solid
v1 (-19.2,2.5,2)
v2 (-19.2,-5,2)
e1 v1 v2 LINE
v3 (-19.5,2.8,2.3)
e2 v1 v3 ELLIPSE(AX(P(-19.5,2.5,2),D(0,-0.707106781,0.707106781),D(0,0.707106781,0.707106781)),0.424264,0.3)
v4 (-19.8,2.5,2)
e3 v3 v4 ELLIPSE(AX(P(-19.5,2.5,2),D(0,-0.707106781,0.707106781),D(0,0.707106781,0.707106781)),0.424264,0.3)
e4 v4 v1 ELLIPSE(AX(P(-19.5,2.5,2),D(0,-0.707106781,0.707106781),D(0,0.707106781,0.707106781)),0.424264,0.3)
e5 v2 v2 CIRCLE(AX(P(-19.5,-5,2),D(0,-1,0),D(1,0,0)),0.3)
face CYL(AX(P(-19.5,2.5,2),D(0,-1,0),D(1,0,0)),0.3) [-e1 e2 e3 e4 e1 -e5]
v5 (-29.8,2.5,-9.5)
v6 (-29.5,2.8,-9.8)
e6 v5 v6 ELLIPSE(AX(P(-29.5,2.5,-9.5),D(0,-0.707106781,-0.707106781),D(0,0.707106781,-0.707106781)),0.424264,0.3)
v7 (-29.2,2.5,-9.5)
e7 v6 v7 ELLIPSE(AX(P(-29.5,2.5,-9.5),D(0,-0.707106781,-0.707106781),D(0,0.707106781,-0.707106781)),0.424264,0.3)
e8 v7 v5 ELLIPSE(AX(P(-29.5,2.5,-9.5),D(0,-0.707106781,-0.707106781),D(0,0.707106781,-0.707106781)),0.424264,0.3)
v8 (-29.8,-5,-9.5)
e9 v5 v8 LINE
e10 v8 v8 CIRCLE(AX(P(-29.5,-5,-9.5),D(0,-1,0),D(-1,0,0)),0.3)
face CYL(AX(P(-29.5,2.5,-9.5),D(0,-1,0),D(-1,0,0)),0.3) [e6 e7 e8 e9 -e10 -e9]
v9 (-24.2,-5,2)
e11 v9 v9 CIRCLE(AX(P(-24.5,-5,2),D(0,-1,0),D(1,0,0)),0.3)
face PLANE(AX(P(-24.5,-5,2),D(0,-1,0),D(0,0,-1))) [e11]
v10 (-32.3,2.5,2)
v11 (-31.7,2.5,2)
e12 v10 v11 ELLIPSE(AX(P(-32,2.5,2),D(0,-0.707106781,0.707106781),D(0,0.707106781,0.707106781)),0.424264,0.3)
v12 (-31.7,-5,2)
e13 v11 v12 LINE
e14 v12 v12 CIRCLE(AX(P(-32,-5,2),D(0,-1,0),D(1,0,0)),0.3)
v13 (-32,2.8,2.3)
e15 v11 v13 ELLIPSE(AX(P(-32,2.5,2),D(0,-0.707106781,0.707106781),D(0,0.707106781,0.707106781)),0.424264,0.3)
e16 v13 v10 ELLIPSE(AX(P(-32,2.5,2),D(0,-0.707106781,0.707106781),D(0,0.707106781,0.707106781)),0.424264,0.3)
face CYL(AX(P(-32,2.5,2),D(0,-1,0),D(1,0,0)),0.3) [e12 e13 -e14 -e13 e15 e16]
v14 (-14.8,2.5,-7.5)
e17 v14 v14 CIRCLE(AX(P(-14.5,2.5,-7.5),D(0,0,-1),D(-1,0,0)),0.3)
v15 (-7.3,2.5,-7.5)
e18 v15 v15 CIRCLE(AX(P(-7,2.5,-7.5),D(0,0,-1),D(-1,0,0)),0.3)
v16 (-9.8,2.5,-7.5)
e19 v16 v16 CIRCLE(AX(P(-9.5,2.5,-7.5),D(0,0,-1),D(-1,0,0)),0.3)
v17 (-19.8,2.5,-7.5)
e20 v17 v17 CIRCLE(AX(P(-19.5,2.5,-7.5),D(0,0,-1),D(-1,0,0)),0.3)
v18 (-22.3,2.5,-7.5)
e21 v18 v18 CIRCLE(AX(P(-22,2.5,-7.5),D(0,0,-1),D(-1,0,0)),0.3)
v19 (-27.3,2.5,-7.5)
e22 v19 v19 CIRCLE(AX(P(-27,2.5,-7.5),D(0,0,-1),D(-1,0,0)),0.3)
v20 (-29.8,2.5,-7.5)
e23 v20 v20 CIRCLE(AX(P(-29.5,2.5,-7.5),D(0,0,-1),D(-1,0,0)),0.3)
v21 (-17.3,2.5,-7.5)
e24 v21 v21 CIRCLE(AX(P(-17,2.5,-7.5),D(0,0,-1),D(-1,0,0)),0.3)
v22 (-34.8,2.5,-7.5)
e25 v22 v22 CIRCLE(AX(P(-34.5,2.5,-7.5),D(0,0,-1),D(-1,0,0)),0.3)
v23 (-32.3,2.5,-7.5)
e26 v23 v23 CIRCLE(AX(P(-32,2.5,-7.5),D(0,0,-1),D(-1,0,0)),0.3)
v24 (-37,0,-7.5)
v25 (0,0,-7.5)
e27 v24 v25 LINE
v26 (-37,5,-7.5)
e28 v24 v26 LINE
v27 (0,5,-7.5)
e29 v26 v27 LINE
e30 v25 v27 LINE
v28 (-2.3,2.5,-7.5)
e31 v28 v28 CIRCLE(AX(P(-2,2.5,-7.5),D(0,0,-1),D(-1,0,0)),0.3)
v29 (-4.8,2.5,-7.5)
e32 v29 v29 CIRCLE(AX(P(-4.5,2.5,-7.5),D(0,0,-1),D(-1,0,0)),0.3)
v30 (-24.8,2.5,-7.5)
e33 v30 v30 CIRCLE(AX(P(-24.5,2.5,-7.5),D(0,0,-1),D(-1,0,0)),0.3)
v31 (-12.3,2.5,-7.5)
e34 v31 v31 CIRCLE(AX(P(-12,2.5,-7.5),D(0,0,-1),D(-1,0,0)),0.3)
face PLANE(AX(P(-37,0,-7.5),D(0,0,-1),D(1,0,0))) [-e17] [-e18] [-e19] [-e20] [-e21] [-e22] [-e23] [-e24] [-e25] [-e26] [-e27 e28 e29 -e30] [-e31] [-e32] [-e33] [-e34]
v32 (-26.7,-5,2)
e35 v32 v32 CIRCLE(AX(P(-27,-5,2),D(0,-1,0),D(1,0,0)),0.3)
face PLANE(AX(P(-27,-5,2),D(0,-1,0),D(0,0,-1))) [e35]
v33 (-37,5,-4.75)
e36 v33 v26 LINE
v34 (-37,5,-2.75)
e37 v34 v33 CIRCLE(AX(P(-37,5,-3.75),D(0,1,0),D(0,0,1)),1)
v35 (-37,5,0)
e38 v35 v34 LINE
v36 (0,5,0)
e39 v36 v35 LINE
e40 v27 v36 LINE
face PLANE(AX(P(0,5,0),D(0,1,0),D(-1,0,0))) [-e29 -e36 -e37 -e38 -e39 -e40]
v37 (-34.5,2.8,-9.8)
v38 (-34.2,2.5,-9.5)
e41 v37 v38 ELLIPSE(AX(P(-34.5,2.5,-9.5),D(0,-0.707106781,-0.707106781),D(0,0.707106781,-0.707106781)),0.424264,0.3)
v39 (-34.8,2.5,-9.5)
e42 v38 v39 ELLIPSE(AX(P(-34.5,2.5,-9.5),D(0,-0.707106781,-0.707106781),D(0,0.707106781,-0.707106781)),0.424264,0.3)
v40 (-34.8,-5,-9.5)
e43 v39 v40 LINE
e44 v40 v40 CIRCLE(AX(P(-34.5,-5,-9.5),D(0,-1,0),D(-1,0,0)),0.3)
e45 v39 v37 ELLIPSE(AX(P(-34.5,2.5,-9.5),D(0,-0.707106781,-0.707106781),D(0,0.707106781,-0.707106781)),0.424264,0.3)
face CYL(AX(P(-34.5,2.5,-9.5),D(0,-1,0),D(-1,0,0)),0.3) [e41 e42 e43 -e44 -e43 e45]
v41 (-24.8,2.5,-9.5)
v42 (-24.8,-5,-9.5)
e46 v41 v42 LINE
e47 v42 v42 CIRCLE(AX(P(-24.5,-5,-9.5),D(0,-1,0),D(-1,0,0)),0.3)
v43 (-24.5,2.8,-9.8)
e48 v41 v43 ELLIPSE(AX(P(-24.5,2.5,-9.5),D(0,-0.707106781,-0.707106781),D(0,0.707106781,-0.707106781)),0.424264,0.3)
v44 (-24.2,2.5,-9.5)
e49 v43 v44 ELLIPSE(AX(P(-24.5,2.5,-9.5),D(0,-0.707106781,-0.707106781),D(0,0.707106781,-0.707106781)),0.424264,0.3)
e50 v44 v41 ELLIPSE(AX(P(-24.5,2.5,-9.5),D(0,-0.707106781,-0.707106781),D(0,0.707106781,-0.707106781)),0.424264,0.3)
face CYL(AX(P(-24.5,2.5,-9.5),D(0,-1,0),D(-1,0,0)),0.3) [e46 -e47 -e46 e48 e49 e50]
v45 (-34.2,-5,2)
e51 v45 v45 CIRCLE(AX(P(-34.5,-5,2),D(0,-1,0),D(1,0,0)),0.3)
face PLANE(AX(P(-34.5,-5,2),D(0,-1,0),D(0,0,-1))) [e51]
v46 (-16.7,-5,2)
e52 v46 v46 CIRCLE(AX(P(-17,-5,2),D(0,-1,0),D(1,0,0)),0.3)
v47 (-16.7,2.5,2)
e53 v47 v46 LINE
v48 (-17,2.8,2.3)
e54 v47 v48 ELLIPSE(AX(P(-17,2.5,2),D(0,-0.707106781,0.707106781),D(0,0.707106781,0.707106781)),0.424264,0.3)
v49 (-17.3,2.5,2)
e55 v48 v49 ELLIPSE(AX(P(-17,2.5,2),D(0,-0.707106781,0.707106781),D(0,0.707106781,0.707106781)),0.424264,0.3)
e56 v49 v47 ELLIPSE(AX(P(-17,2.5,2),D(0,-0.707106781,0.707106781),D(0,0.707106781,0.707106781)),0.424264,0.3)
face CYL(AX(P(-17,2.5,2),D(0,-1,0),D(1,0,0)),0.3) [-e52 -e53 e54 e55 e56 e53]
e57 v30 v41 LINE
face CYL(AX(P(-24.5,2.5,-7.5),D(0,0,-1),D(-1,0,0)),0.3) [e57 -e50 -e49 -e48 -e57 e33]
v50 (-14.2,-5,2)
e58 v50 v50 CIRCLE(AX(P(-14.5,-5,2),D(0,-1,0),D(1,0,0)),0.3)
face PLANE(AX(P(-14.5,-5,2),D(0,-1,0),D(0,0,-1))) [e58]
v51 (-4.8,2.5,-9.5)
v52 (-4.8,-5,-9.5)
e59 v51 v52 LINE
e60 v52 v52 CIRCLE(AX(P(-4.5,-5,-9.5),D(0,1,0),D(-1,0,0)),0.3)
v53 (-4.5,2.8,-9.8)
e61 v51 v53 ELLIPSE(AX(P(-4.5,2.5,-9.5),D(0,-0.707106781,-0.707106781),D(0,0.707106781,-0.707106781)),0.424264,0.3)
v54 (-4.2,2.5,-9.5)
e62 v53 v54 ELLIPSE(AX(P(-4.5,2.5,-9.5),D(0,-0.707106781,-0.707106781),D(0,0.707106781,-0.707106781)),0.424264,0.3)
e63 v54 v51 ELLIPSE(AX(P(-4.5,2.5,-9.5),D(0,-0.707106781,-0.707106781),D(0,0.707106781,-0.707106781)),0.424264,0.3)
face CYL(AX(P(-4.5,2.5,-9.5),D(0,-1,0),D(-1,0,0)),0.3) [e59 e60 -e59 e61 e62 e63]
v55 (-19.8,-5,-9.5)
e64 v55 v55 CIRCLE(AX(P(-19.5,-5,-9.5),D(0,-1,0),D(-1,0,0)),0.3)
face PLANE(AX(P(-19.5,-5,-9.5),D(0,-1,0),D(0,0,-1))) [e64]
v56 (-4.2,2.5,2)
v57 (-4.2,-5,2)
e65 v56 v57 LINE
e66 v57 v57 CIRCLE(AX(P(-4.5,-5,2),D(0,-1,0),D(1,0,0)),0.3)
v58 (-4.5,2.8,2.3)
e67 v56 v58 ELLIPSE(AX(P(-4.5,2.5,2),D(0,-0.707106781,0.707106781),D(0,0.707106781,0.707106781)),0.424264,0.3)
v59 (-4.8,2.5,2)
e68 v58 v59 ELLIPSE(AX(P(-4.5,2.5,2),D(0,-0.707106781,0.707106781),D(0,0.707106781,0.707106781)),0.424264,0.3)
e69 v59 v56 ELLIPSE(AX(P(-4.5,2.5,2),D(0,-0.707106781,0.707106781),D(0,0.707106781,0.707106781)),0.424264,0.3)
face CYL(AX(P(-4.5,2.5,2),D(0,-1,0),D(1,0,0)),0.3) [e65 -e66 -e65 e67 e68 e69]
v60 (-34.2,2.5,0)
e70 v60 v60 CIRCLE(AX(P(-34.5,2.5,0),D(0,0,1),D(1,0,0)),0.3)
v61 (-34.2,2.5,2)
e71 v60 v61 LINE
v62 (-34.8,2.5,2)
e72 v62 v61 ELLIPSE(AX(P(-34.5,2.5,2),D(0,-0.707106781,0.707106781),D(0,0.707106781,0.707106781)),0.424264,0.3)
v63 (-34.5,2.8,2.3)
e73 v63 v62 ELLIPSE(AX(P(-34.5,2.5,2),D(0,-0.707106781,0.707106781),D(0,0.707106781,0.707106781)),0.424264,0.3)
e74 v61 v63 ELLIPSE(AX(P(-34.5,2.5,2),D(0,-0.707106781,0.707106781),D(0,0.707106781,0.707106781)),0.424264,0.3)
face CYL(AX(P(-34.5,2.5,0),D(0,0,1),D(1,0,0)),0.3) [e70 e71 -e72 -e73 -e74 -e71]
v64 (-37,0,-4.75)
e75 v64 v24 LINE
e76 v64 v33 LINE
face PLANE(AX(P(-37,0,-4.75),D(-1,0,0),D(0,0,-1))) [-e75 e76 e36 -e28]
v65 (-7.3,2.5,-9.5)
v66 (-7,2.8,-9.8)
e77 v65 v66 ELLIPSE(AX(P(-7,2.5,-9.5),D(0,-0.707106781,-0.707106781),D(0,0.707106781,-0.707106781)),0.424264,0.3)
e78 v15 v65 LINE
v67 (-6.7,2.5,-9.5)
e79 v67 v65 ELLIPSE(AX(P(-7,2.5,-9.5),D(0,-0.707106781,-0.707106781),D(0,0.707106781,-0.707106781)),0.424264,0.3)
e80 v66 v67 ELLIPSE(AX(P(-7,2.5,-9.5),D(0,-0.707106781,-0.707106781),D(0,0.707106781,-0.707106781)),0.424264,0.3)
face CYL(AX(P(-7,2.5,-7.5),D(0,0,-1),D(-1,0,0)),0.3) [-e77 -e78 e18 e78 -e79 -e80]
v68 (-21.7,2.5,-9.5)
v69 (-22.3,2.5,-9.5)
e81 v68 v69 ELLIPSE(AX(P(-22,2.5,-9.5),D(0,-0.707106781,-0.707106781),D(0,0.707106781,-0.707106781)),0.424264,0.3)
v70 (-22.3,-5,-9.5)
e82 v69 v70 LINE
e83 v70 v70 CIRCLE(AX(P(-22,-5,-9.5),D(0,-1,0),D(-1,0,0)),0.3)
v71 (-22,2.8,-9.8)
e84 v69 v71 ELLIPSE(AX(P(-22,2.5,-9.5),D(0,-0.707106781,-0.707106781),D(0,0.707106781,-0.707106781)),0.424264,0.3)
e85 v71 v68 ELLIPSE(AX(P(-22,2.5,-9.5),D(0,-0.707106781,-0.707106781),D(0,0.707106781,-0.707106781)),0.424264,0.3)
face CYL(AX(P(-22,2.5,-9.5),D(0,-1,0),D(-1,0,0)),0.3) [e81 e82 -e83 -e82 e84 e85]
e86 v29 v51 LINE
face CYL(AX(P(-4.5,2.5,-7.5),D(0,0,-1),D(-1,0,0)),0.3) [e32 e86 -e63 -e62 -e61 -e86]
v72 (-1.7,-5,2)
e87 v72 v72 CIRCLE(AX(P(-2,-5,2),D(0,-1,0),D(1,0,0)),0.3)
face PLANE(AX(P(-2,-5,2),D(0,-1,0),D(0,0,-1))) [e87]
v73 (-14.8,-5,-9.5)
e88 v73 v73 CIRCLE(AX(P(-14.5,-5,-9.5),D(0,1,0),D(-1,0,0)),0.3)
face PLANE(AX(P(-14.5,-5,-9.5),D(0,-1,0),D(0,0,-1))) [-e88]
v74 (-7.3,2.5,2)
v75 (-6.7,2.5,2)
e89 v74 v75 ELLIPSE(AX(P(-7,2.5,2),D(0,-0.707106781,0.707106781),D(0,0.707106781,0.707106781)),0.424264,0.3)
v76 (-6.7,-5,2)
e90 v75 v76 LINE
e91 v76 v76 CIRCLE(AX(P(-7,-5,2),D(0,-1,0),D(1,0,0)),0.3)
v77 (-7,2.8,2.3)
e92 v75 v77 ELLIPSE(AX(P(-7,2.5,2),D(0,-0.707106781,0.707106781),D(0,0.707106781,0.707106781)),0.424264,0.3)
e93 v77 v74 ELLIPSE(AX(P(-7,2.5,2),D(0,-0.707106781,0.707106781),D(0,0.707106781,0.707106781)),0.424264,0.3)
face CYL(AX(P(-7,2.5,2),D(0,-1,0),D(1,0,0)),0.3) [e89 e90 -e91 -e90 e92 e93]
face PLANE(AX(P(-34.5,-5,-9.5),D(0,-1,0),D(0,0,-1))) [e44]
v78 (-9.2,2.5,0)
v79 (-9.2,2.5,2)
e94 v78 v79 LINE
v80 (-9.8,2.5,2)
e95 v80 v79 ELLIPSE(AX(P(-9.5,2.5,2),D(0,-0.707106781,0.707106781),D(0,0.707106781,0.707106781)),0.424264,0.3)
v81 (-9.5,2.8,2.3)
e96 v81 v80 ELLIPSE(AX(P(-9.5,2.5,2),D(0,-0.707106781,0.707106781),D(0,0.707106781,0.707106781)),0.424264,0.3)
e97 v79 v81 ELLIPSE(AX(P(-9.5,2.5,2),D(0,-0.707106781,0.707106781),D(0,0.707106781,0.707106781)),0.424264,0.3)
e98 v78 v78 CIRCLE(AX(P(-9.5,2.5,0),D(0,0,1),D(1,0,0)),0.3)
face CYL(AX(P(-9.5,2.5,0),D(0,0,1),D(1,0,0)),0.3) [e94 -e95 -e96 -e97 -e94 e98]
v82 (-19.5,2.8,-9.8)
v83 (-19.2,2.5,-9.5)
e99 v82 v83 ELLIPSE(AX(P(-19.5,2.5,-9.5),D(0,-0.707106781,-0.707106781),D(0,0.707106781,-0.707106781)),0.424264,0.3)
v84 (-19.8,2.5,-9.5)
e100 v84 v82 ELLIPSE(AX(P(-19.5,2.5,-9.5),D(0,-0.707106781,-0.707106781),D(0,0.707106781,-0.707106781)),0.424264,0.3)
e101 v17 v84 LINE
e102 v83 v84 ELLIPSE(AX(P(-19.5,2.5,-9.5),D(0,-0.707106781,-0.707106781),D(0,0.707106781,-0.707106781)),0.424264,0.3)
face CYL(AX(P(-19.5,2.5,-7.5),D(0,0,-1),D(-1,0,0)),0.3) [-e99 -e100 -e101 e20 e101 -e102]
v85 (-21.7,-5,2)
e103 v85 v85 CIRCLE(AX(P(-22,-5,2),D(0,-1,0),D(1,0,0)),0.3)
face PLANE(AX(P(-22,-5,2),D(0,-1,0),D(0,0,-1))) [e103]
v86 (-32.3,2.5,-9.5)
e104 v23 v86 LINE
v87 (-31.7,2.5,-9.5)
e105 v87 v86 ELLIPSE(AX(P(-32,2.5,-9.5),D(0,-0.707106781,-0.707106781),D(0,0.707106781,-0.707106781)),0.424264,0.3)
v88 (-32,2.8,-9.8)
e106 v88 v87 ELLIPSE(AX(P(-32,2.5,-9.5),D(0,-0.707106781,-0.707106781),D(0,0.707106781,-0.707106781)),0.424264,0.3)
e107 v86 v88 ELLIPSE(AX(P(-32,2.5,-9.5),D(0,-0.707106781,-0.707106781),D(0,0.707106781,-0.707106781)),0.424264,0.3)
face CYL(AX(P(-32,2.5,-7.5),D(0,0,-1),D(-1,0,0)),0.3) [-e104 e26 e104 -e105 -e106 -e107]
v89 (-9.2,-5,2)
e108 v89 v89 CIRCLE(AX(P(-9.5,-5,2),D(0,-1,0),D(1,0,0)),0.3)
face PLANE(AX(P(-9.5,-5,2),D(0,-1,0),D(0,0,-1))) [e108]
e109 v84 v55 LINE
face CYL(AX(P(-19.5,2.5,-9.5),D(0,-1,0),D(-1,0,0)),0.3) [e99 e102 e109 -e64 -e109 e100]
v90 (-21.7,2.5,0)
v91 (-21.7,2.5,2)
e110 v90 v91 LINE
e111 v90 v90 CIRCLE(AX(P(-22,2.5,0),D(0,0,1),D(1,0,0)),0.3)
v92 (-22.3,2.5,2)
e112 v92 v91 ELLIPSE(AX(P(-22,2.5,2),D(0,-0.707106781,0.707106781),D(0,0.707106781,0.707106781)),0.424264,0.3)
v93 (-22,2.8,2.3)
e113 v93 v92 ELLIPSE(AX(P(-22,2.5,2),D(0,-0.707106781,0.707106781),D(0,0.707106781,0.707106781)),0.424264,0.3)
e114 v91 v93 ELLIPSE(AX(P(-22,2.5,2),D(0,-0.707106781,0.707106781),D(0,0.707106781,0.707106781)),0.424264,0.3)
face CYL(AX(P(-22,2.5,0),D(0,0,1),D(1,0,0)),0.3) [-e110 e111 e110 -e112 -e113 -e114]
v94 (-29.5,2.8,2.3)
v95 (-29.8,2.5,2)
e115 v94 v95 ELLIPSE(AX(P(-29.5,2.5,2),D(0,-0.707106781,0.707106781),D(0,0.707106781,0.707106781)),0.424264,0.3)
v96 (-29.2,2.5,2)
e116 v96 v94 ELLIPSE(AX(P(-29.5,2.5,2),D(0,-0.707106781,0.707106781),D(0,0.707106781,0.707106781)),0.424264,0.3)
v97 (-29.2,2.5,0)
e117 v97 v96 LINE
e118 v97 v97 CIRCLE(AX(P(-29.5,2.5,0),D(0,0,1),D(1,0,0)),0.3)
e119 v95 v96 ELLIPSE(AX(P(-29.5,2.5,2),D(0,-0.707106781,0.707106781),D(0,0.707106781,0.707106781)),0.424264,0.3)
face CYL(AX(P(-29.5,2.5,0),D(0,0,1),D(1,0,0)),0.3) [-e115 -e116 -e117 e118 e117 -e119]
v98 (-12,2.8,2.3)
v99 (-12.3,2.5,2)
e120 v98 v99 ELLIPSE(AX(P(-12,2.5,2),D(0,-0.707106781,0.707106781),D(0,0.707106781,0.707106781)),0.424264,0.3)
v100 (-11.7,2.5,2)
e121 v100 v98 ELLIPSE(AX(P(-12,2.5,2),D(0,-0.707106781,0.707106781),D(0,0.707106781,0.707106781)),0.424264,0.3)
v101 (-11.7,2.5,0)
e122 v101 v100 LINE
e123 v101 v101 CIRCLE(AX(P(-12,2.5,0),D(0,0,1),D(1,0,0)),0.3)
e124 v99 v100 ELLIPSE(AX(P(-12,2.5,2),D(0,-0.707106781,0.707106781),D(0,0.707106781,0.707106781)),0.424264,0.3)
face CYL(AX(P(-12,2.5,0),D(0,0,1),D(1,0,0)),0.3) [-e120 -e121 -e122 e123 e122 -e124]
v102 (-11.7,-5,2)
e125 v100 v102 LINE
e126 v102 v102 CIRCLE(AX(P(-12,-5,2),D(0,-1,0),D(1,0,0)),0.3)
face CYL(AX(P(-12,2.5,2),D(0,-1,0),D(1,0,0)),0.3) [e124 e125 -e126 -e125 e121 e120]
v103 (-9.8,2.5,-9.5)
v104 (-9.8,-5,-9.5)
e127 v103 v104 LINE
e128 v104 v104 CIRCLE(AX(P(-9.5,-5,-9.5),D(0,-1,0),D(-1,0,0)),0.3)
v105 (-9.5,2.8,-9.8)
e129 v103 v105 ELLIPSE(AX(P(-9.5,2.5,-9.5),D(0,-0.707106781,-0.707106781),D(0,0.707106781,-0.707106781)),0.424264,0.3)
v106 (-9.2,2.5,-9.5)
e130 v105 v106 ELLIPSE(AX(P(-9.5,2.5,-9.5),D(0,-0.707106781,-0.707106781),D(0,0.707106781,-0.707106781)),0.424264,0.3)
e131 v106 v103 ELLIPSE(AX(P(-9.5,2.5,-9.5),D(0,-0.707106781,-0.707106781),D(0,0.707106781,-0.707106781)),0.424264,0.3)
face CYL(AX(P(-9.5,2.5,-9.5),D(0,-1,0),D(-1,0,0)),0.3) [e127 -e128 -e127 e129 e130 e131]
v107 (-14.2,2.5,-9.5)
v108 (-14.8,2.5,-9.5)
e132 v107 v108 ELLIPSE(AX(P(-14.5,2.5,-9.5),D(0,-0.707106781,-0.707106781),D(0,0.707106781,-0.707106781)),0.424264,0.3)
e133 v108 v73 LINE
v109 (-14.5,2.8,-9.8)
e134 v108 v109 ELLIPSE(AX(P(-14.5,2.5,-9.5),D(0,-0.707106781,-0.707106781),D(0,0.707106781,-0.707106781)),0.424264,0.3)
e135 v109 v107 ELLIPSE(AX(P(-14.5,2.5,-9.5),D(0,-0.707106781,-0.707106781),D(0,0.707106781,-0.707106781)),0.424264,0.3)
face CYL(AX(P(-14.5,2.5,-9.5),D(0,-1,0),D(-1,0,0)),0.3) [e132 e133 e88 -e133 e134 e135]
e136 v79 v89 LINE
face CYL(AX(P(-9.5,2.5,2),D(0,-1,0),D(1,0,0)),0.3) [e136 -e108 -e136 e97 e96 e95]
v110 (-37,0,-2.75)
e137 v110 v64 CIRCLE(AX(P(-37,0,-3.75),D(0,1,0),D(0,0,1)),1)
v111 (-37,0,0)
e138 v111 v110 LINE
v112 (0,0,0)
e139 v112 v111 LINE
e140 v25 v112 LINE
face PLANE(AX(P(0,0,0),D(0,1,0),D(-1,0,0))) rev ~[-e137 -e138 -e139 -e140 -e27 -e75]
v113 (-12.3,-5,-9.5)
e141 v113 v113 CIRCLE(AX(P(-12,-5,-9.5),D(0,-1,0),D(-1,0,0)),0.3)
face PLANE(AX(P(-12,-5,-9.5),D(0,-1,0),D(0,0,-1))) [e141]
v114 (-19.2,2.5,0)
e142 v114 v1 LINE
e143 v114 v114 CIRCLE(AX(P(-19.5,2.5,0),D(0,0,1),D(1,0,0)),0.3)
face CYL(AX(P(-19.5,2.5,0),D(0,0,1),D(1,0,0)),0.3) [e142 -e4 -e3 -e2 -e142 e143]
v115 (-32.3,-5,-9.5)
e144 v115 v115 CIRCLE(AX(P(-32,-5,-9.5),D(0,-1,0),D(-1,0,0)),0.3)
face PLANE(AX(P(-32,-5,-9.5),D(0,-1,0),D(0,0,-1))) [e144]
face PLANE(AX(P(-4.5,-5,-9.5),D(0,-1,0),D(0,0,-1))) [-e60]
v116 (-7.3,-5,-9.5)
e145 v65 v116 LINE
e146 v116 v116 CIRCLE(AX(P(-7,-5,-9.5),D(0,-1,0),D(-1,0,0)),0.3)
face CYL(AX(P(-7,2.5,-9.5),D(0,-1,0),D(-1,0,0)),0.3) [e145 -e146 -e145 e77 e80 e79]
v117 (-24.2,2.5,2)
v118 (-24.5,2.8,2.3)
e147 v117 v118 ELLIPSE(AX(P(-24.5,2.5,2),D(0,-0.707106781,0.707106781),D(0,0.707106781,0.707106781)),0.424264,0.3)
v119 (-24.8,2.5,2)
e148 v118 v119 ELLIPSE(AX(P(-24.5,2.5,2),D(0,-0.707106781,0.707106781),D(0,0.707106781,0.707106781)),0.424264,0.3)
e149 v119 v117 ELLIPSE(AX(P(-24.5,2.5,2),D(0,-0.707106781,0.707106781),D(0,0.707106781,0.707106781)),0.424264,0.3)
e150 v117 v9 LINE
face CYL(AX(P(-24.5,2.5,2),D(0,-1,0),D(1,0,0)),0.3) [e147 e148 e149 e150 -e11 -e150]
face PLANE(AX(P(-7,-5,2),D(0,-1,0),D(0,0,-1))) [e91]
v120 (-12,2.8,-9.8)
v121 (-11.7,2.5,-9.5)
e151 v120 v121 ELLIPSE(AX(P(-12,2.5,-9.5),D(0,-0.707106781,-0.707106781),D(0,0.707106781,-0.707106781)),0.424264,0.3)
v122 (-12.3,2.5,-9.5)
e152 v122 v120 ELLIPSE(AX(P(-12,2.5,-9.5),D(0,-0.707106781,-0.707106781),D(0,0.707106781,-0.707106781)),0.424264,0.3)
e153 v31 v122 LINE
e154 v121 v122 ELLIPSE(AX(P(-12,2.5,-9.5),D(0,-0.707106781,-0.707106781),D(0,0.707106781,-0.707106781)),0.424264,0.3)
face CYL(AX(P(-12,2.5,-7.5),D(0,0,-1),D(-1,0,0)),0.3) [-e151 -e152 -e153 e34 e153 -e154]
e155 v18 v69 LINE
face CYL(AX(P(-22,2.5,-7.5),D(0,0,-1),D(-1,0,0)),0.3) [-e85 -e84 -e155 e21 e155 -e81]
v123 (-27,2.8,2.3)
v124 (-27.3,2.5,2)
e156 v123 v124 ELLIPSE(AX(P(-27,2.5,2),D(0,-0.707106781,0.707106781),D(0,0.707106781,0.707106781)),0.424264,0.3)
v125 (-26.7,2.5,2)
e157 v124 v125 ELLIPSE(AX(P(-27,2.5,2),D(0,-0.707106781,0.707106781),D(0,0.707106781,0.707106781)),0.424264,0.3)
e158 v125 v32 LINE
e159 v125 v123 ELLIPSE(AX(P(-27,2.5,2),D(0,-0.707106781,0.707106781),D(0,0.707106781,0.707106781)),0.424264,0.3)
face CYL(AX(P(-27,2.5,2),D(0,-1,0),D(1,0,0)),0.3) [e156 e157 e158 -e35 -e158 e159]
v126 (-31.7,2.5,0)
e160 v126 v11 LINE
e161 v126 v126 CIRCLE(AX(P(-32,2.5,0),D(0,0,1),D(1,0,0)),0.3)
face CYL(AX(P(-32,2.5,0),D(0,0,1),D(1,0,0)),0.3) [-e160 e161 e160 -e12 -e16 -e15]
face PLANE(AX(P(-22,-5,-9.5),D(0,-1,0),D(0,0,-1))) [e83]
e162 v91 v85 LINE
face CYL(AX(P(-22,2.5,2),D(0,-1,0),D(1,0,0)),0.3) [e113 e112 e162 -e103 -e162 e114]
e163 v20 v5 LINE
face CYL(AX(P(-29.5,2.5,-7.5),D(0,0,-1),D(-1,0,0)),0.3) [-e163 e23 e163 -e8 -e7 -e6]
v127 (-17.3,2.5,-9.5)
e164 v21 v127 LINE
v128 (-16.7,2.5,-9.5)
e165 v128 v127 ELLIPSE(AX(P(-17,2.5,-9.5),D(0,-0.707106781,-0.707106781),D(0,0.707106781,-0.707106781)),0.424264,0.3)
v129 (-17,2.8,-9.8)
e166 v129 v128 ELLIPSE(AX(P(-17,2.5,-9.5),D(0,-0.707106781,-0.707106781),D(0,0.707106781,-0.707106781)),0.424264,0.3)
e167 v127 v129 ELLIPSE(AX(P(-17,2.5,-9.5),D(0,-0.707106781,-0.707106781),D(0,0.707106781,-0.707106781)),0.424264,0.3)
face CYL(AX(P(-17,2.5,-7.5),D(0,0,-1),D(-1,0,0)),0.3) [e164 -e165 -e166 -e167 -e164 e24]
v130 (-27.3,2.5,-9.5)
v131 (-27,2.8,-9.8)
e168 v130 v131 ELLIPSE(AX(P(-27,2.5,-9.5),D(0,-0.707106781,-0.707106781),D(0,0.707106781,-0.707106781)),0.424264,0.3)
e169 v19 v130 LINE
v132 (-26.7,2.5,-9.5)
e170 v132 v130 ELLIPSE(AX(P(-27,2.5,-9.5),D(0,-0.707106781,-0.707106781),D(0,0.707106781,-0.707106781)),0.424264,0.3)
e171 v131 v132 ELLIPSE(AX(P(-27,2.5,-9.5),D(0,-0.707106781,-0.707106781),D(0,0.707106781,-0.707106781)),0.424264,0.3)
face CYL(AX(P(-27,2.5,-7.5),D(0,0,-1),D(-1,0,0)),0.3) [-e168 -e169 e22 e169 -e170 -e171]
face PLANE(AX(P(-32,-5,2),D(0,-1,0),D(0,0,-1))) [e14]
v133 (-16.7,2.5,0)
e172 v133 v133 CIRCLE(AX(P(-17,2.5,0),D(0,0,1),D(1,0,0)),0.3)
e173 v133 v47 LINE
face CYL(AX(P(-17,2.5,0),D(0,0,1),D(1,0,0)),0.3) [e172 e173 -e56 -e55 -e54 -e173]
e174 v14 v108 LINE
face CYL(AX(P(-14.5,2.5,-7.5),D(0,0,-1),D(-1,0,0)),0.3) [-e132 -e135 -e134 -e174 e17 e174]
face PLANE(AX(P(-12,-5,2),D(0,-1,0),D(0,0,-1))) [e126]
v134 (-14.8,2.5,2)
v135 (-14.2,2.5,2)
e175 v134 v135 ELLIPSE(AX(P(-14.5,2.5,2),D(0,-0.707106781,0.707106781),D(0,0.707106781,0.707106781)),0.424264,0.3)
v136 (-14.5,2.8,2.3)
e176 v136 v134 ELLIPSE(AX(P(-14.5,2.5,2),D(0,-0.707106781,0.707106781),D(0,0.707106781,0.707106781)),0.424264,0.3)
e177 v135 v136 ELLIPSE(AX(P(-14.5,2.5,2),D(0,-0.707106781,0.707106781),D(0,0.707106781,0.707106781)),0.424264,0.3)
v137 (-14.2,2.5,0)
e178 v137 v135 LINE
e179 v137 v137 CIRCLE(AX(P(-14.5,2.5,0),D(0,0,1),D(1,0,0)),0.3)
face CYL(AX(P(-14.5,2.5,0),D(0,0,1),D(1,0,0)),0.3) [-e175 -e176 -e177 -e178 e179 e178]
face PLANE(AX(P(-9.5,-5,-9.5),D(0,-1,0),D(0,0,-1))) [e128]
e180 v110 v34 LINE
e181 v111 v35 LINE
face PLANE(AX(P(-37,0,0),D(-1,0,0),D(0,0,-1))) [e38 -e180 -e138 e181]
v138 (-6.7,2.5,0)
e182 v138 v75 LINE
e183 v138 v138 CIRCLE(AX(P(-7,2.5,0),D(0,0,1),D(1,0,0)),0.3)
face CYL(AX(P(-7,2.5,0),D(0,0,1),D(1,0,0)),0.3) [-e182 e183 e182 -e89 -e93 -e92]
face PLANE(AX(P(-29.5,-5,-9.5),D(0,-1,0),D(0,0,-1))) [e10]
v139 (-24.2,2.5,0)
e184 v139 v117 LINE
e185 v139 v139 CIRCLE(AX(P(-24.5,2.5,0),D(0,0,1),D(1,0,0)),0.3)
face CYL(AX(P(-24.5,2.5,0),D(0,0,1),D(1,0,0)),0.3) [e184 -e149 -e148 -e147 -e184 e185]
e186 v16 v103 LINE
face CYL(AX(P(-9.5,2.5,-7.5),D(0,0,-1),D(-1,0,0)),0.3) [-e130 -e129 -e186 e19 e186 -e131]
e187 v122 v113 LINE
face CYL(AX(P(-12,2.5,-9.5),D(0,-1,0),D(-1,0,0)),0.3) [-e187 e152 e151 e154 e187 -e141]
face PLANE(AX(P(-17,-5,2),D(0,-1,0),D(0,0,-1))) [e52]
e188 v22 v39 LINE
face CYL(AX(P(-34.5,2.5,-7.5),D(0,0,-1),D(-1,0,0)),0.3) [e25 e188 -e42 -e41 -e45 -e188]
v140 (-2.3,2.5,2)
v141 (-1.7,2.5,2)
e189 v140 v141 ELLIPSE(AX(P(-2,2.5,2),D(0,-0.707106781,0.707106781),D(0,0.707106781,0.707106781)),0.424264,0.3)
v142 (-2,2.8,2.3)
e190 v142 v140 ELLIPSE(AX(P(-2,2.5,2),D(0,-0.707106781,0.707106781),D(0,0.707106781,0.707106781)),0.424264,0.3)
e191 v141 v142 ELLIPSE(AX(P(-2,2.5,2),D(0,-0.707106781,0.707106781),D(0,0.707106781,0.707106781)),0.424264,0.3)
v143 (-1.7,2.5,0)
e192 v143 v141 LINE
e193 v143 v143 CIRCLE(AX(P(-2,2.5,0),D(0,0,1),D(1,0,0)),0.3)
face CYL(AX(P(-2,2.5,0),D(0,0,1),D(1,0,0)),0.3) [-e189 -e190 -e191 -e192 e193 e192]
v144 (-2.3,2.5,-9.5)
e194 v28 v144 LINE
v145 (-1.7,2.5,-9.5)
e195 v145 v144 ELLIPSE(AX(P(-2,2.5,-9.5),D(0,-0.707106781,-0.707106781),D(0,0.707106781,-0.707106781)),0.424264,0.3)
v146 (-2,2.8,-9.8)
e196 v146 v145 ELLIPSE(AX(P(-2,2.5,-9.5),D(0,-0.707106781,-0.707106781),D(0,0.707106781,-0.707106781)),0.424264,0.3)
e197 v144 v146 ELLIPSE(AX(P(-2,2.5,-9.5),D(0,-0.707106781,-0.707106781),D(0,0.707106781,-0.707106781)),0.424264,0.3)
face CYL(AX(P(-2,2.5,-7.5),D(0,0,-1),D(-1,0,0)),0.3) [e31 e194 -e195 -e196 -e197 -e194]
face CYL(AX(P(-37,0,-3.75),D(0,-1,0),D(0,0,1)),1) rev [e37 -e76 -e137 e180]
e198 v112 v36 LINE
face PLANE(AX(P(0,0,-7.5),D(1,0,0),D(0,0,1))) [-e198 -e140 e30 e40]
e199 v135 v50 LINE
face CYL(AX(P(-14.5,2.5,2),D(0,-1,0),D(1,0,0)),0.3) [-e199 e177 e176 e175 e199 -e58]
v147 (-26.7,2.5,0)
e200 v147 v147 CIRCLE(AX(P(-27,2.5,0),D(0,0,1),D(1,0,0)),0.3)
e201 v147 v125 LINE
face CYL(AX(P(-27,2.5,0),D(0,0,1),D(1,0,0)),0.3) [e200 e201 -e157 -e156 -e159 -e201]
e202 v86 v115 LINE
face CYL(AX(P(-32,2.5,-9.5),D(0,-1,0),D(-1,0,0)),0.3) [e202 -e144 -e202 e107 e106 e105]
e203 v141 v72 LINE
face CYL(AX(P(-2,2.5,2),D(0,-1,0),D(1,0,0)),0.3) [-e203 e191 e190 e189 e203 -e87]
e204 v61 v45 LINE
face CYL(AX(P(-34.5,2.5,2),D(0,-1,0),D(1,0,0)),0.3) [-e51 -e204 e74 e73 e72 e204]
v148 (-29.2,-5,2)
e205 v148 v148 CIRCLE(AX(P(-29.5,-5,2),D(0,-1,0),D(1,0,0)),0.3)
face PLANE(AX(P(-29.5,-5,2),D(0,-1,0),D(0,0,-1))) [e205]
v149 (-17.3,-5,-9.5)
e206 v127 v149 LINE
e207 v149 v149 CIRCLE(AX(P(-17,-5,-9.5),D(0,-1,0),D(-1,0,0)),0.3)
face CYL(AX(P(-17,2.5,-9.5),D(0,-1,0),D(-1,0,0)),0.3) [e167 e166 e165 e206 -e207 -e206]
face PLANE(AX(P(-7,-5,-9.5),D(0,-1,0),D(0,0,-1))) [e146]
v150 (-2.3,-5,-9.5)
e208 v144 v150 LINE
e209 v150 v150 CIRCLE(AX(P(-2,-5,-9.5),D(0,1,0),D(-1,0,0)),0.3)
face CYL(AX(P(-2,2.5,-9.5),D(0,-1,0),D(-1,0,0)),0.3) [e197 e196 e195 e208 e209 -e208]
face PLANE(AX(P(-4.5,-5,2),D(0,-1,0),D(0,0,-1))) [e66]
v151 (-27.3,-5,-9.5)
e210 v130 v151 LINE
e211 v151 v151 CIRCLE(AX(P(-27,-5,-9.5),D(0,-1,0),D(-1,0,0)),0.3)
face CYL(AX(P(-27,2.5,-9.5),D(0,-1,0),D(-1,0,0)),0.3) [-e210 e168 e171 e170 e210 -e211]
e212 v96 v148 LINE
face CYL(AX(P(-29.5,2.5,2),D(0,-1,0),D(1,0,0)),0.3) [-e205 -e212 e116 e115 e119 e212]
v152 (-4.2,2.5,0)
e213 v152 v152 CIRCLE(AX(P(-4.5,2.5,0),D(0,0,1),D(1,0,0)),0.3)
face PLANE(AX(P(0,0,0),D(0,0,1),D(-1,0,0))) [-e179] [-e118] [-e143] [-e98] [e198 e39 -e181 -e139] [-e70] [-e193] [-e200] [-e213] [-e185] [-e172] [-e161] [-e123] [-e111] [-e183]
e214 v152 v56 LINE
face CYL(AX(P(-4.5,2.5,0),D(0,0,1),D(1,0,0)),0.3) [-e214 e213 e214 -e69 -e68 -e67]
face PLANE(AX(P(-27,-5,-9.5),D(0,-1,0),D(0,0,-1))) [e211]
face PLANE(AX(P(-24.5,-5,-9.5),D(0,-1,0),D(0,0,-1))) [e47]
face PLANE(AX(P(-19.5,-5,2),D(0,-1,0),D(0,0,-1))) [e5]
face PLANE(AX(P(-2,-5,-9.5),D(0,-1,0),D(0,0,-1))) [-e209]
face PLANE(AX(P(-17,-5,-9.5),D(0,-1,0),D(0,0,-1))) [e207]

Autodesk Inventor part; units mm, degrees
ref_plane "YZ Plane" through (0, 0, 0) normal (1, 0, 0) x (0, 1, 0)
ref_plane "XZ Plane" through (0, 0, 0) normal (0, 1, 0) x (-1, 0, 0)
ref_plane "XY Plane" through (0, 0, 0) normal (0, 0, 1) x (1, 0, 0)
sketch "Sketch1" plane through (0, 0, 0) normal (0, 1, 0) x (-1, 0, 0)
  line L0 (0, 0) -> (37, 0)
  line L1 (37, -7.5) -> (0, -7.5)
  line L2 (0, -7.5) -> (0, 0)
  arc A0 (37, -2.75) -> (37, -4.75) centre (37, -3.75) ccw
  line L3 (37, 0) -> (37, -2.75)
  line L4 (37, -4.75) -> (37, -7.5)
  dimension "d0" = 37
  dimension "d1" = 7.5
  dimension "d2" = 2
extrude "Extrusion1" add sketch "Sketch1" along normal blind 5
sketch "Sketch2" plane through (-37, 0, 0) normal (0, 0, 1) x (1, 0, 0)
  circle A0 centre (2.5, 2.5) radius 0.3
  circle A1 centre (5, 2.5) radius 0.3
  circle A2 centre (7.5, 2.5) radius 0.3
  circle A3 centre (10, 2.5) radius 0.3
  circle A4 centre (12.5, 2.5) radius 0.3
  circle A5 centre (15, 2.5) radius 0.3
  circle A6 centre (17.5, 2.5) radius 0.3
  circle A7 centre (20, 2.5) radius 0.3
  circle A8 centre (22.5, 2.5) radius 0.3
  circle A9 centre (25, 2.5) radius 0.3
  circle A10 centre (27.5, 2.5) radius 0.3
  circle A11 centre (30, 2.5) radius 0.3
  circle A12 centre (32.5, 2.5) radius 0.3
  circle A13 centre (35, 2.5) radius 0.3
  point P0 (37, 0)
  dimension "d5" = 0.6
  dimension "d7" = 0.6
  dimension "d8" = 0.6
  dimension "d9" = 0.6
  dimension "d11" = 0.6
  dimension "d12" = 0.6
  dimension "d13" = 0.6
  dimension "d14" = 0.6
  dimension "d15" = 0.6
  dimension "d16" = 0.6
  dimension "d17" = 0.6
  dimension "d18" = 0.6
  dimension "d19" = 0.6
  dimension "d20" = 0.6
sketch3d "3D Sketch1"
  line L0 (-2, 2.5, 0) -> (-2, 2.5, 2)
  line L1 (-2, 2.5, 2) -> (-2, -5, 2)
  dimension "d23" = 2
  dimension "d24" = 7.5
sweep "Sweep1" add profiles "Sketch2" path "3D Sketch1"
sketch "Sketch3" plane through (0, 0, -7.5) normal (0, 0, -1) x (-1, 0, 0)
  arc A0 (2.3, 2.5) -> (1.7, 2.5) centre (2, 2.5) ccw projected
  circle A1 centre (2, 2.5) radius 0.3
  arc A2 (4.8, 2.5) -> (4.2, 2.5) centre (4.5, 2.5) ccw projected
  circle A3 centre (4.5, 2.5) radius 0.3
  circle A4 centre (7, 2.5) radius 0.3 projected
  circle A5 centre (7, 2.5) radius 0.3
  circle A6 centre (9.5, 2.5) radius 0.3 projected
  circle A7 centre (9.5, 2.5) radius 0.3
  circle A8 centre (12, 2.5) radius 0.3 projected
  circle A9 centre (12, 2.5) radius 0.3
  arc A10 (14.2, 2.5) -> (14.8, 2.5) centre (14.5, 2.5) ccw projected
  circle A11 centre (14.5, 2.5) radius 0.3
  circle A12 centre (17, 2.5) radius 0.3 projected
  circle A13 centre (17, 2.5) radius 0.3
  circle A14 centre (19.5, 2.5) radius 0.3 projected
  circle A15 centre (19.5, 2.5) radius 0.3
  circle A16 centre (22, 2.5) radius 0.3 projected
  circle A17 centre (22, 2.5) radius 0.3
  circle A18 centre (24.5, 2.5) radius 0.3 projected
  circle A19 centre (24.5, 2.5) radius 0.3
  circle A20 centre (29.5, 2.5) radius 0.3 projected
  circle A21 centre (29.5, 2.5) radius 0.3
  circle A22 centre (27, 2.5) radius 0.3 projected
  circle A23 centre (27, 2.5) radius 0.3
  circle A24 centre (32, 2.5) radius 0.3 projected
  circle A25 centre (32, 2.5) radius 0.3
  circle A26 centre (34.5, 2.5) radius 0.3 projected
  circle A27 centre (34.5, 2.5) radius 0.3
  point P0 (0, 0)
sketch3d "3D Sketch2"
  line L0 (-2, 2.5, -7.5) -> (-2, 2.5, -9.5)
  line L1 (-2, 2.5, -9.5) -> (-2, -5, -9.5)
  dimension "d27" = 2
  dimension "d28" = 7.5
sweep "Sweep2" add profiles "Sketch3" path "3D Sketch2"
equation "\"BendRadius\" = Thickness"
equation "\"BendReliefWidth\" = Thickness"
equation "\"BendReliefDepth\" = 0.5 * Thickness"
equation "\"CornerReliefSize\" = 4 * Thickness"
equation "\"MinimumRemnant\" = 2 * Thickness"
equation "\"TransitionRadius\" = BendRadius"
equation "\"JacobiRadiusSize\" = BendRadius"
equation "\"GapSize\" = Thickness"
equation "\"Thickness\" = 3.048"
